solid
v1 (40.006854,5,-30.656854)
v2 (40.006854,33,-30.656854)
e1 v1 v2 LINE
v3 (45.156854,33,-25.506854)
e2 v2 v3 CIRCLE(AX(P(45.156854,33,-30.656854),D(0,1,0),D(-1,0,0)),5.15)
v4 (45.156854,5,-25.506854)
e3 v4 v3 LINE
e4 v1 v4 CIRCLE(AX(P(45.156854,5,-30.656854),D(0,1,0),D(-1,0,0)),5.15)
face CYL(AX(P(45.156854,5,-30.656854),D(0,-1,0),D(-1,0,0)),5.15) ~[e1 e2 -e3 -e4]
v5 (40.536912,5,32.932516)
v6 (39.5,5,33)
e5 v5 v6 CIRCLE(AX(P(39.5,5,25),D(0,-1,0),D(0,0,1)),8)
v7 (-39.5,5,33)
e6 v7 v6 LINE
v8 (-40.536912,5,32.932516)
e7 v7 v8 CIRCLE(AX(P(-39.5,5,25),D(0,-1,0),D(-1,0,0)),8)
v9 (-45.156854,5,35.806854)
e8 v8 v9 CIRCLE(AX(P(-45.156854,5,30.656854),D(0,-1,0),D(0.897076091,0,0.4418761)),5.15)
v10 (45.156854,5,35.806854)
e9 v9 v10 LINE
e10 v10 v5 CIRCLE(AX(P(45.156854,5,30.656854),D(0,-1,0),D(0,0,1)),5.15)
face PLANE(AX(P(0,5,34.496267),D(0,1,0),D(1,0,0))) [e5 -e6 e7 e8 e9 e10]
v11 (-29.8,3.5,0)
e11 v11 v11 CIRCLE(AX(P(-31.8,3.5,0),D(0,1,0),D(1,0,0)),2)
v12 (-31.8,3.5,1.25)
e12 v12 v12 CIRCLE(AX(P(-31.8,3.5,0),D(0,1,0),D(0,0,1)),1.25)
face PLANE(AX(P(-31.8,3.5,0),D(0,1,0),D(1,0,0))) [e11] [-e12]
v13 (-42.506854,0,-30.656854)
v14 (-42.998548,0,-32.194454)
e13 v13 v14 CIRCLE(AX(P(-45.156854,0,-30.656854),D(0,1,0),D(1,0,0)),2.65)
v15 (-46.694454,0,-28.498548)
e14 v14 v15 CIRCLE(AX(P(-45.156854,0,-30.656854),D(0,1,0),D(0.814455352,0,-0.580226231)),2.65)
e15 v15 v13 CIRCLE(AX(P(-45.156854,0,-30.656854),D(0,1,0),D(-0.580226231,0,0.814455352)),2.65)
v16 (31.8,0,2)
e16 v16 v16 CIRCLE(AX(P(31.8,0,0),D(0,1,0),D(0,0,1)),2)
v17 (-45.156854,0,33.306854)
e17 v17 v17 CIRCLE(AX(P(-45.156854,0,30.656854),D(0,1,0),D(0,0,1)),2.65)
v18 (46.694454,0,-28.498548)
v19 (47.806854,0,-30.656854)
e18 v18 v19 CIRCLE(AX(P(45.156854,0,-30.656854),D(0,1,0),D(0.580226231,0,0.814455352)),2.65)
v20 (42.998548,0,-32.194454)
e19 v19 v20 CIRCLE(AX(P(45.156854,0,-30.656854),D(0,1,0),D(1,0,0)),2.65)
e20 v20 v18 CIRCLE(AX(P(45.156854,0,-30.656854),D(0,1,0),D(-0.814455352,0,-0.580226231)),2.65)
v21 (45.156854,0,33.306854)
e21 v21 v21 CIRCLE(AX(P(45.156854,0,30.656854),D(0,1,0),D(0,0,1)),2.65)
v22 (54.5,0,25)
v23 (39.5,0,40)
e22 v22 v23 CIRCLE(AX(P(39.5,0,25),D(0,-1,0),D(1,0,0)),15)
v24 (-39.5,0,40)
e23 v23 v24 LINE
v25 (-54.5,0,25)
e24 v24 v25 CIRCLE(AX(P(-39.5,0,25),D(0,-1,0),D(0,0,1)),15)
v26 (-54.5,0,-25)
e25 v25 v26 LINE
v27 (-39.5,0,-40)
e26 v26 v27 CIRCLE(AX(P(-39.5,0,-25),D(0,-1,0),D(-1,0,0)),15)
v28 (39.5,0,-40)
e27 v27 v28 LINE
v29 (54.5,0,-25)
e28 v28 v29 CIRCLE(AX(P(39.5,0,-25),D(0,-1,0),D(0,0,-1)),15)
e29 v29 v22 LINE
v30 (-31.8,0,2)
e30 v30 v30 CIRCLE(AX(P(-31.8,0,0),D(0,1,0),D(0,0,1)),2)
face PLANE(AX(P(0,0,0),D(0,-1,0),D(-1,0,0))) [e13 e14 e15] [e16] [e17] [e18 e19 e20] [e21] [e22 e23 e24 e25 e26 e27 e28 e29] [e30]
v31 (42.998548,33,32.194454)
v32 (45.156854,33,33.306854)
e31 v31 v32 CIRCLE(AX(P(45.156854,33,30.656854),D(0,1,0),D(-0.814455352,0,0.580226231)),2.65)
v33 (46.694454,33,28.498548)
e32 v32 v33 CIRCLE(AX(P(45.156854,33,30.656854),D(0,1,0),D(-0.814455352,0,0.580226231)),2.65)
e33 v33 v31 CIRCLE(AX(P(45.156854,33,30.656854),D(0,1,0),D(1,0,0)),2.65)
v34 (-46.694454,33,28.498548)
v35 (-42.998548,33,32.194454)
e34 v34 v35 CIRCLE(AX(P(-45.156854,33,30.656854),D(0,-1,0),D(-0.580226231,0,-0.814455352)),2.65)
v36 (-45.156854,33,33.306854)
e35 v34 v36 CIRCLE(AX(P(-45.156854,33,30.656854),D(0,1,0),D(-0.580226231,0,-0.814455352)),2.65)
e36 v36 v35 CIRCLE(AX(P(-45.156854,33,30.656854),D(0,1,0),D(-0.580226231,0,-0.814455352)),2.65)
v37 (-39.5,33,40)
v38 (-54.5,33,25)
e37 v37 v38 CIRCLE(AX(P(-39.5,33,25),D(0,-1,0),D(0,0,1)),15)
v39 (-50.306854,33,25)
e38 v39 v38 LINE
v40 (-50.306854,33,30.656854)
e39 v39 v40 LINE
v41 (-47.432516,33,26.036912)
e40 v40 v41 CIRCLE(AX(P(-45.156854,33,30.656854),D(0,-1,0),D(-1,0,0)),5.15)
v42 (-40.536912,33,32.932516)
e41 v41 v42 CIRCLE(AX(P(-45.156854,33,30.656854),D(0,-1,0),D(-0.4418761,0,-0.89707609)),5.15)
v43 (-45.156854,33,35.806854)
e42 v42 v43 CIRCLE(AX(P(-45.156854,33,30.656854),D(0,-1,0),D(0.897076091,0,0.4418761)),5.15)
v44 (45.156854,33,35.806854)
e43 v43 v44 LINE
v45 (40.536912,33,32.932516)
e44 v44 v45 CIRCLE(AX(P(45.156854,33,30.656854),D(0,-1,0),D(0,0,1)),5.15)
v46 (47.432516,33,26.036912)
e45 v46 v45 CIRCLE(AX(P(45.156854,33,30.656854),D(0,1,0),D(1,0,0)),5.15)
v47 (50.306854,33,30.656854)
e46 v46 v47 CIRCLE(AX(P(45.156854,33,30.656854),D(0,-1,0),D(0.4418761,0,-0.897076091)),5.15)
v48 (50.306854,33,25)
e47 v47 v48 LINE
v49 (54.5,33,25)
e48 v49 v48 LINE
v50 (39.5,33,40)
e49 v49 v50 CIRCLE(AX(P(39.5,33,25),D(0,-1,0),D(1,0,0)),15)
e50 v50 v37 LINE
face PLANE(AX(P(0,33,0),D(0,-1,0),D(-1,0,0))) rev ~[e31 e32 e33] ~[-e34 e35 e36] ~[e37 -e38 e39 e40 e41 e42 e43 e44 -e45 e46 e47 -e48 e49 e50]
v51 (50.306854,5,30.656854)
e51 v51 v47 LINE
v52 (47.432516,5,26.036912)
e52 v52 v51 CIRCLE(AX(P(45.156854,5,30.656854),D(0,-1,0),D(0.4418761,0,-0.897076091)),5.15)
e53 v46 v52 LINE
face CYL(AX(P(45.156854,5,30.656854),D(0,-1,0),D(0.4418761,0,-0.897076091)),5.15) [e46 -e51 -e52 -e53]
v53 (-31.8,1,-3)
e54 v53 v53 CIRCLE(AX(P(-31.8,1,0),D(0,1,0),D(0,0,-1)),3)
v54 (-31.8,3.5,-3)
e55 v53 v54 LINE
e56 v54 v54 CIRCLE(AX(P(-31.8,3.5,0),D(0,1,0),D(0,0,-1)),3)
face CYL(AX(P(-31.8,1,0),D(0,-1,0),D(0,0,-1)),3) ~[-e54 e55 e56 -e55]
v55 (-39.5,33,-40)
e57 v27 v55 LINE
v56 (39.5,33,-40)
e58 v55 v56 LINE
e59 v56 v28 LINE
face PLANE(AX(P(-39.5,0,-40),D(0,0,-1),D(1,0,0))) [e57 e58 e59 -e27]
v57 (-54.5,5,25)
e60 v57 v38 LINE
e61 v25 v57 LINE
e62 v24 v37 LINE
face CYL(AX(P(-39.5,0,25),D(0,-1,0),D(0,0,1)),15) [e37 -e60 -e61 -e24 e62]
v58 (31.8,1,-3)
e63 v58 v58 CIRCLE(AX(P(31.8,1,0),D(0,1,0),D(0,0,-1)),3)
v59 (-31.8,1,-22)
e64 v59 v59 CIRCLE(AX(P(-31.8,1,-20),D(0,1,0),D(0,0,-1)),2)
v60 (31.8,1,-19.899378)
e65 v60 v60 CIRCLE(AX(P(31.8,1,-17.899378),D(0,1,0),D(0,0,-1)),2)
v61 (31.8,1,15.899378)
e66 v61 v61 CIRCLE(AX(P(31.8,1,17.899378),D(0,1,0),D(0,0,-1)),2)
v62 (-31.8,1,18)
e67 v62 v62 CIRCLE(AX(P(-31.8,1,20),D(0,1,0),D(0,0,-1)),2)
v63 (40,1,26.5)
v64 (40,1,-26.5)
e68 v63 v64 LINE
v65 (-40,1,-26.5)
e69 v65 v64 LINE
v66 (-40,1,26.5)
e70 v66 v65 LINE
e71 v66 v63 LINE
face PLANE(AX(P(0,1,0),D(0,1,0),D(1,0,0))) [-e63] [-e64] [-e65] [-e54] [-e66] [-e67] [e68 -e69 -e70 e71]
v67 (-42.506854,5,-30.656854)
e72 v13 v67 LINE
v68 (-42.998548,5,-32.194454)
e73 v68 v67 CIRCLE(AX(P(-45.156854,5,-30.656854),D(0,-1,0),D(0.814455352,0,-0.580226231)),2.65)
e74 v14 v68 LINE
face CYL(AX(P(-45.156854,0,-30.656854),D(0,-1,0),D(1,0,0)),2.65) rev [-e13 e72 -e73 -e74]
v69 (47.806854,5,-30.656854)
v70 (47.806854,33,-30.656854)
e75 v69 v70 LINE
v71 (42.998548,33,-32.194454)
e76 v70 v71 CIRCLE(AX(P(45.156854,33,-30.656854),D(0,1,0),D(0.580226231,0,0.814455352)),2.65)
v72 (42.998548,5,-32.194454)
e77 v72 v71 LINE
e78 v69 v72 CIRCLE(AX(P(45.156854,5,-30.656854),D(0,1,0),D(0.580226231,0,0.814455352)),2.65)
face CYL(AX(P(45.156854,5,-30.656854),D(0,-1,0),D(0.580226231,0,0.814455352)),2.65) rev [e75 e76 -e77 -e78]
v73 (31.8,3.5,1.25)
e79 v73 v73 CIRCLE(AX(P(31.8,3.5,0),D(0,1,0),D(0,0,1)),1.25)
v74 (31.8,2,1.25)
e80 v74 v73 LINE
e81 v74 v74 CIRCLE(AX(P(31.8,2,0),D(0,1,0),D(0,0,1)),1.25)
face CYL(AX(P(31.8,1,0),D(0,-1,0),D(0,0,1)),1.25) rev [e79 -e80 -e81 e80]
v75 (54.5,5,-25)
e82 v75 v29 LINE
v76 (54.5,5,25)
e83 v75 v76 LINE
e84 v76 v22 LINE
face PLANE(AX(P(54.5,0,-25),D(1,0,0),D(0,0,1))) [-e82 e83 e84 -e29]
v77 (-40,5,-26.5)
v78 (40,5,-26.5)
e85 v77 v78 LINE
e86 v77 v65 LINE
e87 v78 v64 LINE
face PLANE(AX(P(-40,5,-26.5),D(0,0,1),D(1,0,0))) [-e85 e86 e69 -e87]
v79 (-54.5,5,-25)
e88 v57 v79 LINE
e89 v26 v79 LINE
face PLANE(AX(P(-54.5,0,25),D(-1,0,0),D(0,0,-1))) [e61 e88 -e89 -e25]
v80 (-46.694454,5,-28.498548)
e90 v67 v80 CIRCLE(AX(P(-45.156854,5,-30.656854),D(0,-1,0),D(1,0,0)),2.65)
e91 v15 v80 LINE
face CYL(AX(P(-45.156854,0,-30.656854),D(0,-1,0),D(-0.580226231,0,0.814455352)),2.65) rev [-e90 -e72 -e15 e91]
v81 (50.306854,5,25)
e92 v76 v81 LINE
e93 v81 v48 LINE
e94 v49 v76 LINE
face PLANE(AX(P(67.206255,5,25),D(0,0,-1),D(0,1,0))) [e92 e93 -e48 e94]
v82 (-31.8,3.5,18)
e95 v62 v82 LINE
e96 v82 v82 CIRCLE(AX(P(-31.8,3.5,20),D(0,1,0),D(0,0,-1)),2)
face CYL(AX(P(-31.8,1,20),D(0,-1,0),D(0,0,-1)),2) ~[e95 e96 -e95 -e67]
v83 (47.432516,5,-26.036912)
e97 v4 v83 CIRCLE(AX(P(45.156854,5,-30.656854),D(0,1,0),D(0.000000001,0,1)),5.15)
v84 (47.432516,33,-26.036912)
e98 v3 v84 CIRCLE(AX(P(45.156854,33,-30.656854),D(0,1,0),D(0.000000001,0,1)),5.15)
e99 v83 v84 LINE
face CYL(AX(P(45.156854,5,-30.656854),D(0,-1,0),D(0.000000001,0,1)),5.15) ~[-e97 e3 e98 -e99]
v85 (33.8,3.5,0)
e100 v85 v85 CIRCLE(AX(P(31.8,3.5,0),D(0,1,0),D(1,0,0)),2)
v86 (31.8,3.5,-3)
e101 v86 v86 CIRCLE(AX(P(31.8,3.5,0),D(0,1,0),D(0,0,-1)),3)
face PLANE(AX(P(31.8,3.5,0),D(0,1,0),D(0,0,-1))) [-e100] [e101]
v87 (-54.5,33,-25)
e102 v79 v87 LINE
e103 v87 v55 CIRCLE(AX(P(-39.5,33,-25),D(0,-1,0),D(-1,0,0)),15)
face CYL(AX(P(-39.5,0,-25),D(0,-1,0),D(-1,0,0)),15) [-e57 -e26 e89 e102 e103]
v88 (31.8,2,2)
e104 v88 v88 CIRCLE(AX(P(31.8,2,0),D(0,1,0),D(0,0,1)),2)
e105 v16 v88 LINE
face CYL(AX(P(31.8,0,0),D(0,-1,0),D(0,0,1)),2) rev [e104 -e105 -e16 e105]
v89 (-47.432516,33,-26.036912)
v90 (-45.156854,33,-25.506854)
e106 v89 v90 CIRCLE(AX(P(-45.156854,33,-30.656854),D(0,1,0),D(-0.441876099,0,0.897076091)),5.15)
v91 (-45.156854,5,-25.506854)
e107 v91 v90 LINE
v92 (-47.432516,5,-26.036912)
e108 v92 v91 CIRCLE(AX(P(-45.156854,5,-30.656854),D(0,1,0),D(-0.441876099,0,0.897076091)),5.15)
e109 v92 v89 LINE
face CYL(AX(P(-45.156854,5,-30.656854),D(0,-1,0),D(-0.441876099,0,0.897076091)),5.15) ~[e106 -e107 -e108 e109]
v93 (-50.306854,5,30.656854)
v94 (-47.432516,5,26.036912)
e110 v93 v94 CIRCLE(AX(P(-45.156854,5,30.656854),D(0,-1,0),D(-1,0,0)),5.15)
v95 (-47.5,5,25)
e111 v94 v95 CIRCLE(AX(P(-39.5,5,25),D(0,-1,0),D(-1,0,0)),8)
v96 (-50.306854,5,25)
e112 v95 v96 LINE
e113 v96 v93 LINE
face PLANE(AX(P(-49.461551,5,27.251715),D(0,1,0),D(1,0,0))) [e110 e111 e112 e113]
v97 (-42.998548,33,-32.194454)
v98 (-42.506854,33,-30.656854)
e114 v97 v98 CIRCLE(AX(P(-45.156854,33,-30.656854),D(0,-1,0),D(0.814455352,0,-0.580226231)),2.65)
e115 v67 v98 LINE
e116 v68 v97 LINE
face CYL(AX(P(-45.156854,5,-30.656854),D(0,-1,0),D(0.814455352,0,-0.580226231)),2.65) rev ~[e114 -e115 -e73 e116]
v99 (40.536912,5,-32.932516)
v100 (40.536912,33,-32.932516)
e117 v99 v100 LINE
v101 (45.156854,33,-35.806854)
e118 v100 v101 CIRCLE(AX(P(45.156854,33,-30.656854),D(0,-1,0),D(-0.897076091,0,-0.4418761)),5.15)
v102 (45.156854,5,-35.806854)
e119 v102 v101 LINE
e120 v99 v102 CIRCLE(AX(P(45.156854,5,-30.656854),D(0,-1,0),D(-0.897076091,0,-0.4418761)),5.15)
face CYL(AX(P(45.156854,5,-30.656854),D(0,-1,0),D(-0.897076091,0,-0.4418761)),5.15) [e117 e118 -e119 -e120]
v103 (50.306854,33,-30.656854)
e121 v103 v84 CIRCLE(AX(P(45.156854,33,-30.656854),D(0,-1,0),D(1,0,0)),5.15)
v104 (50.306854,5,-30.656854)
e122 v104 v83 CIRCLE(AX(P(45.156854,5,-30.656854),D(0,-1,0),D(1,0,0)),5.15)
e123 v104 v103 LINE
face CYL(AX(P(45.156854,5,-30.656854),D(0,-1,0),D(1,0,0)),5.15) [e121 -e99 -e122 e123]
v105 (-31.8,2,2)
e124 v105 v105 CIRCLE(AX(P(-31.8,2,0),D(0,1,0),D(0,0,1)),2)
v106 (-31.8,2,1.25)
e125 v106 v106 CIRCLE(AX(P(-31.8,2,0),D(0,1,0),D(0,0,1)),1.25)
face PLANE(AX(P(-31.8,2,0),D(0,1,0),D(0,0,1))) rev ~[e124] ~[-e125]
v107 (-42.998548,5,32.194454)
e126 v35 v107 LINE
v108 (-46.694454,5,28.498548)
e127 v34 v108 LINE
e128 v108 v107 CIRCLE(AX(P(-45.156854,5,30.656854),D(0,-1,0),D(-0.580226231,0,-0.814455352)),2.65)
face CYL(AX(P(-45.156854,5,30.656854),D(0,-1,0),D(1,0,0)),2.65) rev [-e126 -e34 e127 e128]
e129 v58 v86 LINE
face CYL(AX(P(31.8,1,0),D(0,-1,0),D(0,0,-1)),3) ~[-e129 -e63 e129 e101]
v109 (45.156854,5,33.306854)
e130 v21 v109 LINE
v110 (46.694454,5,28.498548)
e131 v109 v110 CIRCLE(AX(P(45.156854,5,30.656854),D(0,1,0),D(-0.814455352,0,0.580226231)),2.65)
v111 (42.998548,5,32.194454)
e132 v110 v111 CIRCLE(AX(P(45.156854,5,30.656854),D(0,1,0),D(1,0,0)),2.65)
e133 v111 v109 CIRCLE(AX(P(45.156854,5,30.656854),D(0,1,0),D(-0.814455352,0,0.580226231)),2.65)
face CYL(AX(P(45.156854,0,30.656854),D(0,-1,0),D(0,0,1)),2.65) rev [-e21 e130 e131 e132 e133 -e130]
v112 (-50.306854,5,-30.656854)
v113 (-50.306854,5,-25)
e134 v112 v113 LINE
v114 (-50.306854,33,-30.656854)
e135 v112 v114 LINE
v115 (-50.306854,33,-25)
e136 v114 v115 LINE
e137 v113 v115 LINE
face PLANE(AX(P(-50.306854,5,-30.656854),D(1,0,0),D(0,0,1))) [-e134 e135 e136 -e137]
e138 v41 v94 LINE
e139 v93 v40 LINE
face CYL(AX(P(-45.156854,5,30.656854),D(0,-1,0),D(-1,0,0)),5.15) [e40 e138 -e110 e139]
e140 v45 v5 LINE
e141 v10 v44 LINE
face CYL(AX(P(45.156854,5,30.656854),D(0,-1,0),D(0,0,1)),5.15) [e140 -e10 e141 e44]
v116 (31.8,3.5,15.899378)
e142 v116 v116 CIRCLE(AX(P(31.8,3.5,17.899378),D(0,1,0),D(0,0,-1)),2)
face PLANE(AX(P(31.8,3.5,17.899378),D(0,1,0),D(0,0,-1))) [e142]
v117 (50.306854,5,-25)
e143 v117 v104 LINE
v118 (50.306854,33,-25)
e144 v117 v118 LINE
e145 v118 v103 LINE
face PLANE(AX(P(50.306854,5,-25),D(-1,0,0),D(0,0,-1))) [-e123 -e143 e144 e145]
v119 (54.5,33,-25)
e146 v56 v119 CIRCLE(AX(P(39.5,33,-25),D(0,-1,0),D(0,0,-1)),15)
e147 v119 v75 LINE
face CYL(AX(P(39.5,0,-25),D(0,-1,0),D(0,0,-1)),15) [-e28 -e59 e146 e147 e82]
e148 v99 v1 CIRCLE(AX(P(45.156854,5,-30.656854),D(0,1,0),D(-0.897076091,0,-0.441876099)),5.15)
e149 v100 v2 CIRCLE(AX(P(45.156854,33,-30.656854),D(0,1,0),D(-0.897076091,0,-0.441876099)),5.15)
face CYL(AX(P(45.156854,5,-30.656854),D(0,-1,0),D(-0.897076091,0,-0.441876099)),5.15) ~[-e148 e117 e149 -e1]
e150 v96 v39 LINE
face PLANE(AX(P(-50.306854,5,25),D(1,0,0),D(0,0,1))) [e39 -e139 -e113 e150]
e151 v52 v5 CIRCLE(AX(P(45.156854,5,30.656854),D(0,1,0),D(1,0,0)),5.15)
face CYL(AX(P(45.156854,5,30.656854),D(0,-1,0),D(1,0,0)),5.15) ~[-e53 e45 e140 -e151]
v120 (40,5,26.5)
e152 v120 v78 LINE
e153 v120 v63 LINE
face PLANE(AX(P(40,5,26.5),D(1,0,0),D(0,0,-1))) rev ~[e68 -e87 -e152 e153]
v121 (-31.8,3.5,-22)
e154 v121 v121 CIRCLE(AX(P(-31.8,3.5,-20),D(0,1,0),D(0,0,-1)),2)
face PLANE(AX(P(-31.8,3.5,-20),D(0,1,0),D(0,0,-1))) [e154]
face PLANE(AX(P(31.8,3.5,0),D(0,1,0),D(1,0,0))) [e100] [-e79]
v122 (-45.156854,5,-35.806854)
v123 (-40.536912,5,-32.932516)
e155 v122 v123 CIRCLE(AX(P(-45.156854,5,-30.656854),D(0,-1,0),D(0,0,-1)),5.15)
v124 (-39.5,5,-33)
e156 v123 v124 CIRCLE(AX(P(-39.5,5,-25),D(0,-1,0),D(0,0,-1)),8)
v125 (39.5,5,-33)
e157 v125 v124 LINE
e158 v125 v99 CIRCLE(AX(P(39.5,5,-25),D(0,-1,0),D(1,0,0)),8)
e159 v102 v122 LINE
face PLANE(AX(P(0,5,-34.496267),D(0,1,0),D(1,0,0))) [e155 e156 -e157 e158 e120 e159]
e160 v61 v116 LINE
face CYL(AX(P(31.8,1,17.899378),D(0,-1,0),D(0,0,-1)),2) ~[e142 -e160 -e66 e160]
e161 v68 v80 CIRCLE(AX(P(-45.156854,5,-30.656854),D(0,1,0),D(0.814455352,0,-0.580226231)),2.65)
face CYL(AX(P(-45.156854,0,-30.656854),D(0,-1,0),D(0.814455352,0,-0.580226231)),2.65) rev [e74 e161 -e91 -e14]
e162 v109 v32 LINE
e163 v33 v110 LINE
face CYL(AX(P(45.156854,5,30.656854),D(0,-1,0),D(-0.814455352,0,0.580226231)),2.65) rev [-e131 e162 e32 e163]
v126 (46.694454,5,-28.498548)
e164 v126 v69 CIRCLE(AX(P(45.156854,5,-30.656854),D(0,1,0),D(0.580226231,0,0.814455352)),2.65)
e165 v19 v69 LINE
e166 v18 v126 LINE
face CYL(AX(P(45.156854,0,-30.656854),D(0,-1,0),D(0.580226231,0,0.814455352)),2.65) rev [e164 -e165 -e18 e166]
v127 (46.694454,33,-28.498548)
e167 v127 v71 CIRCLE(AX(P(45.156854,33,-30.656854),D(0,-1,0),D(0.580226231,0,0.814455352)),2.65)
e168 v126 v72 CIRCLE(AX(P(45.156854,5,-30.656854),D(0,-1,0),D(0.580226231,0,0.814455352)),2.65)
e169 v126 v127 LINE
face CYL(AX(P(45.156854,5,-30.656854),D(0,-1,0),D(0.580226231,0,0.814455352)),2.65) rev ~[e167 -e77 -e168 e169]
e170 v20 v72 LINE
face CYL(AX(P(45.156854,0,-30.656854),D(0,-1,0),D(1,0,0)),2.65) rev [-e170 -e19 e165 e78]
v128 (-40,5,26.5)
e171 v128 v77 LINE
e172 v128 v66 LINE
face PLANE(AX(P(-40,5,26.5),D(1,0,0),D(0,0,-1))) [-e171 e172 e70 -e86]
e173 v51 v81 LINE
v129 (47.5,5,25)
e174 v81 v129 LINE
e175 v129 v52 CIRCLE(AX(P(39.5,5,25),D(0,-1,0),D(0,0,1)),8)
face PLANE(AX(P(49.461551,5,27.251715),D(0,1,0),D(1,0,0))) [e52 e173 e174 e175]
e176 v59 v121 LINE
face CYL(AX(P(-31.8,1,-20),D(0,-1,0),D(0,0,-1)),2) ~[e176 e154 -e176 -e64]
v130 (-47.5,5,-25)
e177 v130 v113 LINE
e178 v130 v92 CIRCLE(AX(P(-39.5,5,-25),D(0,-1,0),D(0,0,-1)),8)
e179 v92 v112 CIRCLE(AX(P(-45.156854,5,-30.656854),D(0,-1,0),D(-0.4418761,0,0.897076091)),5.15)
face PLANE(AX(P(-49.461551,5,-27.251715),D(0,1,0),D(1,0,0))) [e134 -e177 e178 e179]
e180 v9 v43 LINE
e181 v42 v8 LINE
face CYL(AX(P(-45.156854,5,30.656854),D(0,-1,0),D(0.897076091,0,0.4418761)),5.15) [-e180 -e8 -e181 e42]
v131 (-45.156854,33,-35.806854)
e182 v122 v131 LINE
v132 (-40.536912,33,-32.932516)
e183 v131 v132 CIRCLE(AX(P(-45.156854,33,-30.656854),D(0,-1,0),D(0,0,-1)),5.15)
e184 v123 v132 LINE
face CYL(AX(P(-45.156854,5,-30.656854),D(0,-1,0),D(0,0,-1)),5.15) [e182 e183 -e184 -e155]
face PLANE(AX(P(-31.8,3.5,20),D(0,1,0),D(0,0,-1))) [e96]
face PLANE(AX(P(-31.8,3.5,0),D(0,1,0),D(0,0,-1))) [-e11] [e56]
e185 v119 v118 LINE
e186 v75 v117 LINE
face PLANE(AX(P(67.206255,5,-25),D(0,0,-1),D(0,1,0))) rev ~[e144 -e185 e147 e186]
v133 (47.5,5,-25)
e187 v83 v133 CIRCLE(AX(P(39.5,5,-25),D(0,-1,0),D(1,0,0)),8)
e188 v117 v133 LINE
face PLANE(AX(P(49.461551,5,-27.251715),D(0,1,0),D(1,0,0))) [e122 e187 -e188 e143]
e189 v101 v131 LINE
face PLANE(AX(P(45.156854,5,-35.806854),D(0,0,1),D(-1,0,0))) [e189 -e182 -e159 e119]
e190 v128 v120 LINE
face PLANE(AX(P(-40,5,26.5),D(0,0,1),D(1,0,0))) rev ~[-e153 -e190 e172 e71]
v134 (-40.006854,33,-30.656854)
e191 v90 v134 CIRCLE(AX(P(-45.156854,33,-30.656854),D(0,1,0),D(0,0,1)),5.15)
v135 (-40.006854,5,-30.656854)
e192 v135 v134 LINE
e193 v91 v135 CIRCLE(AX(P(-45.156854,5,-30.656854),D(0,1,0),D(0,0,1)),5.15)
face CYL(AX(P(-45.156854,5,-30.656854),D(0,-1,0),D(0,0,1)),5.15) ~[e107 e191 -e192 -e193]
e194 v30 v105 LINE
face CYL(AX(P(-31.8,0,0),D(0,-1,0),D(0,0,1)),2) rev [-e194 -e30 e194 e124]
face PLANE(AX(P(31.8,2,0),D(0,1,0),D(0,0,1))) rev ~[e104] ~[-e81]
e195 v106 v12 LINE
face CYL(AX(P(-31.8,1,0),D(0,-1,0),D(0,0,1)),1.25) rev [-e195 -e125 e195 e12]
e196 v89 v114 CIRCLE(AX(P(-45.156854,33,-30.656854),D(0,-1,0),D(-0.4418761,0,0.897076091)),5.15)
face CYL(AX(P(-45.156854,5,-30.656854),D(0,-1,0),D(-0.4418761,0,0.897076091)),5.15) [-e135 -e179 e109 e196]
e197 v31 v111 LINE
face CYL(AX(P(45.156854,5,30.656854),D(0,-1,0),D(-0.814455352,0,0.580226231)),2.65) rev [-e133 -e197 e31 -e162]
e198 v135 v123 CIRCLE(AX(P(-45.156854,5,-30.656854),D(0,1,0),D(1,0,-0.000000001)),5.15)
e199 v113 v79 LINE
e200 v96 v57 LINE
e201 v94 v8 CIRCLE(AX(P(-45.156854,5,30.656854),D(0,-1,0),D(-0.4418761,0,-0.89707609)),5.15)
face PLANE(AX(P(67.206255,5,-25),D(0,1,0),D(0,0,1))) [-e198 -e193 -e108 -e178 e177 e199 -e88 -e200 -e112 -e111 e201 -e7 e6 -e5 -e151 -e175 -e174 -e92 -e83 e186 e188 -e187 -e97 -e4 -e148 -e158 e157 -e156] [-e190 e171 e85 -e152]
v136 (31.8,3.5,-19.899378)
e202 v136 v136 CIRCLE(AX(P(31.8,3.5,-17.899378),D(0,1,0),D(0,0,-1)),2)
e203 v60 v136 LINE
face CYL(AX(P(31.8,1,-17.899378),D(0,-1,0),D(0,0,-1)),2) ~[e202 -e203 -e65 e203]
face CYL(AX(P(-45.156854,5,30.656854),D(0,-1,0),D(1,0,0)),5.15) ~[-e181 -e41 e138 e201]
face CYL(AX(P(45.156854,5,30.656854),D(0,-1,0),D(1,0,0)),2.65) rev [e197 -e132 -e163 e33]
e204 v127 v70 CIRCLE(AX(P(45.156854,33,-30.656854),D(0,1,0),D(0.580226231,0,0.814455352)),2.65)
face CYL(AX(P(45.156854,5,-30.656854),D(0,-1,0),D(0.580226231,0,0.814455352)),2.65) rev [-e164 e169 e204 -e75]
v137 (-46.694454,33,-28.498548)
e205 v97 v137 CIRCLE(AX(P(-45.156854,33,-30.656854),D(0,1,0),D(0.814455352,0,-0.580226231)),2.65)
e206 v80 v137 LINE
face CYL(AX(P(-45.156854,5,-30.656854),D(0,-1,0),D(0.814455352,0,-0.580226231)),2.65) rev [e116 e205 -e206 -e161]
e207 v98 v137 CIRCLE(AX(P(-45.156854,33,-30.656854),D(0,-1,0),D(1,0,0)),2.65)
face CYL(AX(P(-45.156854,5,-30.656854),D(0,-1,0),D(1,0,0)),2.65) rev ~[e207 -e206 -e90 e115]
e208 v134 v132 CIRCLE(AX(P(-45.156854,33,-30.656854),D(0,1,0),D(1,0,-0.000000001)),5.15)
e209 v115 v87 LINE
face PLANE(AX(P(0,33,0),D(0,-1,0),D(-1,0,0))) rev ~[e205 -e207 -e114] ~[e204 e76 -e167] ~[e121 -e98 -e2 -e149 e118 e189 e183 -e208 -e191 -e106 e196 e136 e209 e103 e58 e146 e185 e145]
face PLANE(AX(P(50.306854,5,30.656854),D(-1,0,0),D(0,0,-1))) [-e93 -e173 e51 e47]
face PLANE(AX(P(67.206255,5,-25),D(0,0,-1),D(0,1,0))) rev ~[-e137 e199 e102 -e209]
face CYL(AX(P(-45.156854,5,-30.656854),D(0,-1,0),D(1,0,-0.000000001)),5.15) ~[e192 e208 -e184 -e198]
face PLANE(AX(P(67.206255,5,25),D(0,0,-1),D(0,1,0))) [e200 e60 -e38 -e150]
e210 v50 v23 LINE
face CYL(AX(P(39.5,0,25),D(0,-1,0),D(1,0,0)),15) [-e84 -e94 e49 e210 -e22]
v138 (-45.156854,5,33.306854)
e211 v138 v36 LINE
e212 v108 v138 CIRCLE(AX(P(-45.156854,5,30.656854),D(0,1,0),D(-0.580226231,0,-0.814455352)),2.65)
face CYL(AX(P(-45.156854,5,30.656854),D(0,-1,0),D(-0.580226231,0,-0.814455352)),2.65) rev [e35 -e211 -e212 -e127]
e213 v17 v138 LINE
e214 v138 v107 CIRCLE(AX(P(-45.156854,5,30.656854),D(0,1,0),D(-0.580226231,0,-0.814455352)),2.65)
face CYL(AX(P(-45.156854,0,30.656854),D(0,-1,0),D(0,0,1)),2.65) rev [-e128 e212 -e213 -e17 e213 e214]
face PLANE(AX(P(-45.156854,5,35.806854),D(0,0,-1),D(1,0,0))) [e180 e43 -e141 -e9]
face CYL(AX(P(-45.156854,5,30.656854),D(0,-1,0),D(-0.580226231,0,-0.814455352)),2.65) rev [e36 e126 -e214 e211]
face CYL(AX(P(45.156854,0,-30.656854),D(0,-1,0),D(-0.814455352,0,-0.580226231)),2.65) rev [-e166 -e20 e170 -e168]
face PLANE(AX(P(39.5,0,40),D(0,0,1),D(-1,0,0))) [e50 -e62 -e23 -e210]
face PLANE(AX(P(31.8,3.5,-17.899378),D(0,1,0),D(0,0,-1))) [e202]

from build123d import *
from build123d.topology import SkipClean

# Parameters (mm, degrees)
BOSS_EXTRUDE1_DEPTH     = 5
BOSS_EXTRUDE3_DEPTH     = 33
CUT_EXTRUDE2_DEPTH      = 121.706255016
CUT_EXTRUDE2_DEPTH_BACK = 121.706255016
SKETCH7_W               = 50
SKETCH7_H               = 28
CUT_EXTRUDE4_START      = 5
SKETCH3_W               = 80
SKETCH3_H               = 53
CUT_EXTRUDE4_DEPTH      = 4
BOSS_EXTRUDE8_START     = -28
SKETCH24_R              = 5.15
SKETCH24_R_2            = 2.65
BOSS_EXTRUDE8_DEPTH     = 28
CUT_EXTRUDE7_START      = -28
CUT_EXTRUDE7_DEPTH      = 28
CUT_EXTRUDE8_START      = -33
SKETCH24_4_R            = 2.65
CUT_EXTRUDE8_DEPTH      = 33
SKETCH25_R              = 3
SKETCH25_R_2            = 2
SKETCH25_R_3            = 1.25
BOSS_EXTRUDE9_DEPTH     = 2.5
SKETCH25_5_R            = 1.25
CUT_EXTRUDE11_DEPTH     = 75.794719065
CUT_EXTRUDE14_START     = -1
SKETCH25_7_R            = 2
SKETCH25_7_R_2          = 1.25
CUT_EXTRUDE14_DEPTH     = 2


with BuildPart() as part:
    # Sketch1 → Boss-Extrude1 (new body)
    with BuildSketch(Plane(origin=(0, 0, 0), x_dir=(1, 0, 0), z_dir=(0, 1, 0))):
        with BuildLine():
            Line((-39.5, 40), (39.5, 40))
            ThreePointArc((39.5, 40), (50.106601718, 35.606601718), (54.5, 25))
            Line((54.5, 25), (54.5, -25))
            ThreePointArc((54.5, -25), (50.106601718, -35.606601718), (39.5, -40))
            Line((39.5, -40), (-39.5, -40))
            ThreePointArc((-39.5, -40), (-50.106601718, -35.606601718), (-54.5, -25))
            Line((-54.5, -25), (-54.5, 25))
            ThreePointArc((-54.5, 25), (-50.106601718, 35.606601718), (-39.5, 40))
        make_face()
    extrude(amount=BOSS_EXTRUDE1_DEPTH)

    # Sketch1<3> → Boss-Extrude3 (add)
    with BuildSketch(Plane(origin=(0, 0, 0), x_dir=(1, 0, 0), z_dir=(0, 1, 0))):
        with BuildLine():
            Line((-39.5, 40), (39.5, 40))
            ThreePointArc((39.5, 40), (50.106601718, 35.606601718), (54.5, 25))
            Line((54.5, 25), (54.5, -25))
            ThreePointArc((54.5, -25), (50.106601718, -35.606601718), (39.5, -40))
            Line((39.5, -40), (-39.5, -40))
            ThreePointArc((-39.5, -40), (-50.106601718, -35.606601718), (-54.5, -25))
            Line((-54.5, -25), (-54.5, 25))
            ThreePointArc((-54.5, 25), (-50.106601718, 35.606601718), (-39.5, 40))
        make_face()
        with BuildLine():
            ThreePointArc((-39.5, 33), (-45.156854249, 30.656854249), (-47.5, 25))
            Line((-47.5, 25), (-47.5, -25))
            ThreePointArc((-47.5, -25), (-45.156854249, -30.656854249), (-39.5, -33))
            Line((-39.5, -33), (39.5, -33))
            ThreePointArc((39.5, -33), (45.156854249, -30.656854249), (47.5, -25))
            Line((47.5, -25), (47.5, 25))
            ThreePointArc((47.5, 25), (45.156854249, 30.656854249), (39.5, 33))
            Line((39.5, 33), (-39.5, 33))
        make_face(mode=Mode.SUBTRACT)
    extrude(amount=BOSS_EXTRUDE3_DEPTH)

    # Sketch7 → Cut-Extrude2 (cut, two sides: drawn at the far end of the back side and taken through both)
    with BuildSketch(Plane.ZY.offset(54.5).offset(-CUT_EXTRUDE2_DEPTH_BACK)):
        with Locations((0, 19)):
            Rectangle(SKETCH7_W, SKETCH7_H)
    extrude(amount=CUT_EXTRUDE2_DEPTH + CUT_EXTRUDE2_DEPTH_BACK, mode=Mode.SUBTRACT)

    # Sketch3 → Cut-Extrude4 (cut)
    with BuildSketch(Plane(origin=(0, 0, 0), x_dir=(1, 0, 0), z_dir=(0, 1, 0)).offset(CUT_EXTRUDE4_START)):
        Rectangle(SKETCH3_W, SKETCH3_H)
    extrude(amount=-CUT_EXTRUDE4_DEPTH, mode=Mode.SUBTRACT)

    # Sketch24 → Boss-Extrude8 (add)
    # profile 1 of 10: a face of its own
    with BuildSketch(Plane(origin=(0, 33, 0), x_dir=(1, 0, 0), z_dir=(0, 1, 0)).offset(BOSS_EXTRUDE8_START)):
        with BuildLine():
            ThreePointArc((-40.536912383, 32.932516165), (-42.436299055, 35.0296199), (-45.156854249, 35.806854249))
            ThreePointArc((-45.156854249, 35.806854249), (-48.798454173, 34.298454173), (-50.306854249, 30.656854249))
            ThreePointArc((-50.306854249, 30.656854249), (-49.5296199, 27.936299055), (-47.432516165, 26.036912383))
            ThreePointArc((-47.432516165, 26.036912383), (-47.162977015, 27.297560286), (-46.694453762, 28.498547566))
            ThreePointArc((-46.694453762, 28.498547566), (-47.03068722, 32.53068722), (-42.998547566, 32.194453762))
            ThreePointArc((-42.998547566, 32.194453762), (-41.797560286, 32.662977015), (-40.536912383, 32.932516165))
        make_face()
    # profile 2 of 10: a face of its own
    with BuildSketch(Plane(origin=(0, 33, 0), x_dir=(1, 0, 0), z_dir=(0, 1, 0)).offset(BOSS_EXTRUDE8_START)):
        with BuildLine():
            ThreePointArc((-40.006854249, 30.656854249), (-40.141118979, 31.825143467), (-40.536912383, 32.932516165))
            ThreePointArc((-40.536912383, 32.932516165), (-41.797560286, 32.662977015), (-42.998547566, 32.194453762))
            ThreePointArc((-42.998547566, 32.194453762), (-42.632768998, 31.464005812), (-42.506854249, 30.656854249))
            ThreePointArc((-42.506854249, 30.656854249), (-43.942798795, 28.301314109), (-46.694453762, 28.498547566))
            ThreePointArc((-46.694453762, 28.498547566), (-47.162977015, 27.297560286), (-47.432516165, 26.036912383))
            ThreePointArc((-47.432516165, 26.036912383), (-46.325143467, 25.641118979), (-45.156854249, 25.506854249))
            ThreePointArc((-45.156854249, 25.506854249), (-41.515254326, 27.015254326), (-40.006854249, 30.656854249))
        make_face()
    # profile 3 of 10: a face of its own
    with BuildSketch(Plane(origin=(0, 33, 0), x_dir=(1, 0, 0), z_dir=(0, 1, 0)).offset(BOSS_EXTRUDE8_START)):
        with BuildLine():
            ThreePointArc((-40.536912383, 32.932516165), (-42.436299055, 35.0296199), (-45.156854249, 35.806854249))
            ThreePointArc((-45.156854249, 35.806854249), (-48.798454173, 34.298454173), (-50.306854249, 30.656854249))
            ThreePointArc((-50.306854249, 30.656854249), (-49.5296199, 27.936299055), (-47.432516165, 26.036912383))
            ThreePointArc((-47.432516165, 26.036912383), (-47.162977015, 27.297560286), (-46.694453762, 28.498547566))
            ThreePointArc((-46.694453762, 28.498547566), (-47.03068722, 32.53068722), (-42.998547566, 32.194453762))
            ThreePointArc((-42.998547566, 32.194453762), (-41.797560286, 32.662977015), (-40.536912383, 32.932516165))
        make_face()
    # profile 4 of 10: a face of its own
    with BuildSketch(Plane(origin=(0, 33, 0), x_dir=(1, 0, 0), z_dir=(0, 1, 0)).offset(BOSS_EXTRUDE8_START)):
        with BuildLine():
            ThreePointArc((-40.006854249, 30.656854249), (-40.141118979, 31.825143467), (-40.536912383, 32.932516165))
            ThreePointArc((-40.536912383, 32.932516165), (-41.797560286, 32.662977015), (-42.998547566, 32.194453762))
            ThreePointArc((-42.998547566, 32.194453762), (-42.632768998, 31.464005812), (-42.506854249, 30.656854249))
            ThreePointArc((-42.506854249, 30.656854249), (-43.942798795, 28.301314109), (-46.694453762, 28.498547566))
            ThreePointArc((-46.694453762, 28.498547566), (-47.162977015, 27.297560286), (-47.432516165, 26.036912383))
            ThreePointArc((-47.432516165, 26.036912383), (-46.325143467, 25.641118979), (-45.156854249, 25.506854249))
            ThreePointArc((-45.156854249, 25.506854249), (-41.515254326, 27.015254326), (-40.006854249, 30.656854249))
        make_face()
    # profile 5 of 10: a face of its own
    with BuildSketch(Plane(origin=(0, 33, 0), x_dir=(1, 0, 0), z_dir=(0, 1, 0)).offset(BOSS_EXTRUDE8_START)):
        with BuildLine():
            ThreePointArc((50.306854249, 30.656854249), (48.798454173, 34.298454173), (45.156854249, 35.806854249))
            ThreePointArc((45.156854249, 35.806854249), (42.436299055, 35.0296199), (40.536912383, 32.932516165))
            ThreePointArc((40.536912383, 32.932516165), (41.797560286, 32.662977015), (42.998547566, 32.194453762))
            ThreePointArc((42.998547566, 32.194453762), (45.964005812, 33.180939501), (47.806854249, 30.656854249))
            ThreePointArc((47.806854249, 30.656854249), (47.51239439, 29.442798795), (46.694453762, 28.498547566))
            ThreePointArc((46.694453762, 28.498547566), (47.162977015, 27.297560286), (47.432516165, 26.036912383))
            ThreePointArc((47.432516165, 26.036912383), (49.5296199, 27.936299055), (50.306854249, 30.656854249))
        make_face()
    # profile 6 of 10: a face of its own
    with BuildSketch(Plane(origin=(0, 33, 0), x_dir=(1, 0, 0), z_dir=(0, 1, 0)).offset(BOSS_EXTRUDE8_START)):
        with BuildLine():
            ThreePointArc((42.998547566, 32.194453762), (41.797560286, 32.662977015), (40.536912383, 32.932516165))
            ThreePointArc((40.536912383, 32.932516165), (40.141118979, 31.825143467), (40.006854249, 30.656854249))
            ThreePointArc((40.006854249, 30.656854249), (41.515254326, 27.015254326), (45.156854249, 25.506854249))
            ThreePointArc((45.156854249, 25.506854249), (46.325143467, 25.641118979), (47.432516165, 26.036912383))
            ThreePointArc((47.432516165, 26.036912383), (47.162977015, 27.297560286), (46.694453762, 28.498547566))
            ThreePointArc((46.694453762, 28.498547566), (43.283021279, 28.783021279), (42.998547566, 32.194453762))
        make_face()
    # profile 7 of 10: a face of its own
    with BuildSketch(Plane(origin=(0, 33, 0), x_dir=(1, 0, 0), z_dir=(0, 1, 0)).offset(BOSS_EXTRUDE8_START)):
        with BuildLine():
            ThreePointArc((50.306854249, 30.656854249), (48.798454173, 34.298454173), (45.156854249, 35.806854249))
            ThreePointArc((45.156854249, 35.806854249), (42.436299055, 35.0296199), (40.536912383, 32.932516165))
            ThreePointArc((40.536912383, 32.932516165), (41.797560286, 32.662977015), (42.998547566, 32.194453762))
            ThreePointArc((42.998547566, 32.194453762), (45.964005812, 33.180939501), (47.806854249, 30.656854249))
            ThreePointArc((47.806854249, 30.656854249), (47.51239439, 29.442798795), (46.694453762, 28.498547566))
            ThreePointArc((46.694453762, 28.498547566), (47.162977015, 27.297560286), (47.432516165, 26.036912383))
            ThreePointArc((47.432516165, 26.036912383), (49.5296199, 27.936299055), (50.306854249, 30.656854249))
        make_face()
    # profile 8 of 10: a face of its own
    with BuildSketch(Plane(origin=(0, 33, 0), x_dir=(1, 0, 0), z_dir=(0, 1, 0)).offset(BOSS_EXTRUDE8_START)):
        with BuildLine():
            ThreePointArc((42.998547566, 32.194453762), (41.797560286, 32.662977015), (40.536912383, 32.932516165))
            ThreePointArc((40.536912383, 32.932516165), (40.141118979, 31.825143467), (40.006854249, 30.656854249))
            ThreePointArc((40.006854249, 30.656854249), (41.515254326, 27.015254326), (45.156854249, 25.506854249))
            ThreePointArc((45.156854249, 25.506854249), (46.325143467, 25.641118979), (47.432516165, 26.036912383))
            ThreePointArc((47.432516165, 26.036912383), (47.162977015, 27.297560286), (46.694453762, 28.498547566))
            ThreePointArc((46.694453762, 28.498547566), (43.283021279, 28.783021279), (42.998547566, 32.194453762))
        make_face()
    # profile 9 of 10: a face of its own
    with BuildSketch(Plane(origin=(0, 33, 0), x_dir=(1, 0, 0), z_dir=(0, 1, 0)).offset(BOSS_EXTRUDE8_START)):
        with Locations((45.156854249, -30.656854249)):
            Circle(SKETCH24_R)
        with Locations((45.156854249, -30.656854249)):
            Circle(SKETCH24_R_2, mode=Mode.SUBTRACT)
    # profile 10 of 10: a face of its own
    with BuildSketch(Plane(origin=(0, 33, 0), x_dir=(1, 0, 0), z_dir=(0, 1, 0)).offset(BOSS_EXTRUDE8_START)):
        with Locations((-45.156854249, -30.656854249)):
            Circle(SKETCH24_R)
        with Locations((-45.156854249, -30.656854249)):
            Circle(SKETCH24_R_2, mode=Mode.SUBTRACT)
    extrude(amount=BOSS_EXTRUDE8_DEPTH)

    # Sketch24<3> → Cut-Extrude7 (cut)
    with SkipClean():  # the faces are left unmerged after this step: merging them gives an invalid solid
        with BuildSketch(Plane(origin=(0, 33, 0), x_dir=(1, 0, 0), z_dir=(0, 1, 0)).offset(CUT_EXTRUDE7_START)):
            with BuildLine():
                Line((45.156854249, 35.806854249), (-45.156854249, 35.806854249))
                ThreePointArc((-45.156854249, 35.806854249), (-42.436299055, 35.0296199), (-40.536912383, 32.932516165))
                ThreePointArc((-40.536912383, 32.932516165), (-40.019553019, 32.983111214), (-39.5, 33))
                Line((-39.5, 33), (39.5, 33))
                ThreePointArc((39.5, 33), (40.019553019, 32.983111214), (40.536912383, 32.932516165))
                ThreePointArc((40.536912383, 32.932516165), (42.436299055, 35.0296199), (45.156854249, 35.806854249))
            make_face()
            with BuildLine():
                ThreePointArc((-47.432516165, 26.036912383), (-49.5296199, 27.936299055), (-50.306854249, 30.656854249))
                Line((-50.306854249, 30.656854249), (-50.306854249, 25))
                Line((-50.306854249, 25), (-47.5, 25))
                ThreePointArc((-47.5, 25), (-47.483111214, 25.519553019), (-47.432516165, 26.036912383))
            make_face()
            with BuildLine():
                Line((50.306854249, 25), (50.306854249, 30.656854249))
                ThreePointArc((50.306854249, 30.656854249), (49.5296199, 27.936299055), (47.432516165, 26.036912383))
                ThreePointArc((47.432516165, 26.036912383), (47.483111214, 25.519553019), (47.5, 25))
                Line((47.5, 25), (50.306854249, 25))
            make_face()
            with BuildLine():
                Line((-47.5, -25), (-50.306854249, -25))
                Line((-50.306854249, -25), (-50.306854249, -30.656854249))
                ThreePointArc((-50.306854249, -30.656854249), (-49.5296199, -27.936299055), (-47.432516165, -26.036912383))
                ThreePointArc((-47.432516165, -26.036912383), (-47.483111214, -25.519553019), (-47.5, -25))
            make_face()
            with BuildLine():
                Line((50.306854249, -30.656854249), (50.306854249, -25))
                Line((50.306854249, -25), (47.5, -25))
                ThreePointArc((47.5, -25), (47.483111214, -25.519553019), (47.432516165, -26.036912383))
                ThreePointArc((47.432516165, -26.036912383), (49.5296199, -27.936299055), (50.306854249, -30.656854249))
            make_face()
            with BuildLine():
                ThreePointArc((-40.536912383, -32.932516165), (-42.436299055, -35.0296199), (-45.156854249, -35.806854249))
                Line((-45.156854249, -35.806854249), (45.156854249, -35.806854249))
                ThreePointArc((45.156854249, -35.806854249), (42.436299055, -35.0296199), (40.536912383, -32.932516165))
                ThreePointArc((40.536912383, -32.932516165), (40.019553019, -32.983111214), (39.5, -33))
                Line((39.5, -33), (-39.5, -33))
                ThreePointArc((-39.5, -33), (-40.019553019, -32.983111214), (-40.536912383, -32.932516165))
            make_face()
            with BuildLine():
                ThreePointArc((-46.694453762, 28.498547566), (-45.156854249, 30.656854249), (-42.998547566, 32.194453762))
                ThreePointArc((-42.998547566, 32.194453762), (-47.03068722, 32.53068722), (-46.694453762, 28.498547566))
            make_face()
            with BuildLine():
                ThreePointArc((46.694453762, 28.498547566), (47.03068722, 32.53068722), (42.998547566, 32.194453762))
                ThreePointArc((42.998547566, 32.194453762), (45.156854249, 30.656854249), (46.694453762, 28.498547566))
            make_face()
            with BuildLine():
                ThreePointArc((42.998547566, -32.194453762), (47.03068722, -32.53068722), (46.694453762, -28.498547566))
                ThreePointArc((46.694453762, -28.498547566), (45.156854249, -30.656854249), (42.998547566, -32.194453762))
            make_face()
            with BuildLine():
                ThreePointArc((-42.998547566, -32.194453762), (-45.156854249, -30.656854249), (-46.694453762, -28.498547566))
                ThreePointArc((-46.694453762, -28.498547566), (-47.03068722, -32.53068722), (-42.998547566, -32.194453762))
            make_face()
        extrude(amount=CUT_EXTRUDE7_DEPTH, mode=Mode.SUBTRACT)

    # Sketch24<4> → Cut-Extrude8 (cut)
    with SkipClean():  # the faces are left unmerged after this step: merging them gives an invalid solid
        with BuildSketch(Plane(origin=(0, 33, 0), x_dir=(1, 0, 0), z_dir=(0, 1, 0)).offset(CUT_EXTRUDE8_START)):
            with Locations(Location((45.156854249, -30.656854249, 0), (0, 0, 270))):
                Circle(SKETCH24_4_R)
            with BuildLine():
                ThreePointArc((46.694453762, 28.498547566), (45.156854249, 30.656854249), (42.998547566, 32.194453762))
                ThreePointArc((42.998547566, 32.194453762), (43.283021279, 28.783021279), (46.694453762, 28.498547566))
            make_face()
            with BuildLine():
                ThreePointArc((47.806854249, 30.656854249), (45.964005812, 33.180939501), (42.998547566, 32.194453762))
                ThreePointArc((42.998547566, 32.194453762), (45.156854249, 30.656854249), (46.694453762, 28.498547566))
                ThreePointArc((46.694453762, 28.498547566), (47.51239439, 29.442798795), (47.806854249, 30.656854249))
            make_face()
            with BuildLine():
                ThreePointArc((-46.694453762, 28.498547566), (-45.156854249, 30.656854249), (-42.998547566, 32.194453762))
                ThreePointArc((-42.998547566, 32.194453762), (-47.03068722, 32.53068722), (-46.694453762, 28.498547566))
            make_face()
            with BuildLine():
                ThreePointArc((-42.506854249, 30.656854249), (-42.632768998, 31.464005812), (-42.998547566, 32.194453762))
                ThreePointArc((-42.998547566, 32.194453762), (-45.156854249, 30.656854249), (-46.694453762, 28.498547566))
                ThreePointArc((-46.694453762, 28.498547566), (-43.942798795, 28.301314109), (-42.506854249, 30.656854249))
            make_face()
            with Locations(Location((-45.156854249, -30.656854249, 0), (0, 0, 270))):
                Circle(SKETCH24_4_R)
        extrude(amount=CUT_EXTRUDE8_DEPTH, mode=Mode.SUBTRACT)

    # Sketch25 → Boss-Extrude9 (add)
    # profile 1 of 8: a face of its own
    with SkipClean():  # the faces are left unmerged after this step: merging them gives an invalid solid
        with BuildSketch(Plane(origin=(0, 1, 0), x_dir=(1, 0, 0), z_dir=(0, 1, 0))):
            with Locations(Location((-31.8, 0, 0), (0, 0, 90))):
                Circle(SKETCH25_R)
            with Locations((-31.8, 0)):
                Circle(SKETCH25_R_2, mode=Mode.SUBTRACT)
        # profile 2 of 8: a face of its own
        with BuildSketch(Plane(origin=(0, 1, 0), x_dir=(1, 0, 0), z_dir=(0, 1, 0))):
            with Locations(Location((31.8, 0, 0), (0, 0, 90))):
                Circle(SKETCH25_R)
            with Locations((31.8, 0)):
                Circle(SKETCH25_R_2, mode=Mode.SUBTRACT)
        # profile 3 of 8: a face of its own
        with BuildSketch(Plane(origin=(0, 1, 0), x_dir=(1, 0, 0), z_dir=(0, 1, 0))):
            with Locations((-31.8, 0)):
                Circle(SKETCH25_R_2)
            with Locations(Location((-31.8, 0, 0), (0, 0, 270))):
                Circle(SKETCH25_R_3, mode=Mode.SUBTRACT)
        # profile 4 of 8: a face of its own
        with BuildSketch(Plane(origin=(0, 1, 0), x_dir=(1, 0, 0), z_dir=(0, 1, 0))):
            with Locations((31.8, 0)):
                Circle(SKETCH25_R_2)
            with Locations(Location((31.8, 0, 0), (0, 0, 270))):
                Circle(SKETCH25_R_3, mode=Mode.SUBTRACT)
        # profile 5 of 8: a face of its own
        with BuildSketch(Plane(origin=(0, 1, 0), x_dir=(1, 0, 0), z_dir=(0, 1, 0))):
            with Locations(Location((-31.8, 20, 0), (0, 0, 90))):
                Circle(SKETCH25_R_2)
        # profile 6 of 8: a face of its own
        with BuildSketch(Plane(origin=(0, 1, 0), x_dir=(1, 0, 0), z_dir=(0, 1, 0))):
            with Locations(Location((31.8, 17.899377537, 0), (0, 0, 90))):
                Circle(SKETCH25_R_2)
        # profile 7 of 8: a face of its own
        with BuildSketch(Plane(origin=(0, 1, 0), x_dir=(1, 0, 0), z_dir=(0, 1, 0))):
            with Locations(Location((31.8, -17.899377537, 0), (0, 0, 90))):
                Circle(SKETCH25_R_2)
        # profile 8 of 8: a face of its own
        with BuildSketch(Plane(origin=(0, 1, 0), x_dir=(1, 0, 0), z_dir=(0, 1, 0))):
            with Locations(Location((-31.8, -20, 0), (0, 0, 90))):
                Circle(SKETCH25_R_2)
        extrude(amount=BOSS_EXTRUDE9_DEPTH)

    # Sketch25<5> → Cut-Extrude11 (cut, through all)
    with SkipClean():  # the faces are left unmerged after this step: merging them gives an invalid solid
        with BuildSketch(Plane(origin=(0, 1, 0), x_dir=(1, 0, 0), z_dir=(0, 1, 0))):
            with Locations(Location((-31.8, 0, 0), (0, 0, 270))):
                Circle(SKETCH25_5_R)
            with Locations(Location((31.8, 0, 0), (0, 0, 270))):
                Circle(SKETCH25_5_R)
        extrude(amount=-CUT_EXTRUDE11_DEPTH, mode=Mode.SUBTRACT)

    # Sketch25<7> → Cut-Extrude14 (cut)
    # profile 1 of 2: a face of its own
    with SkipClean():  # the faces are left unmerged after this step: merging them gives an invalid solid
        with BuildSketch(Plane(origin=(0, 1, 0), x_dir=(1, 0, 0), z_dir=(0, 1, 0)).offset(CUT_EXTRUDE14_START)):
            with Locations(Location((-31.8, 0, 0), (0, 0, 270))):
                Circle(SKETCH25_7_R)
            with Locations(Location((-31.8, 0, 0), (0, 0, 270))):
                Circle(SKETCH25_7_R_2, mode=Mode.SUBTRACT)
        # profile 2 of 2: a face of its own
        with BuildSketch(Plane(origin=(0, 1, 0), x_dir=(1, 0, 0), z_dir=(0, 1, 0)).offset(CUT_EXTRUDE14_START)):
            with Locations(Location((31.8, 0, 0), (0, 0, 270))):
                Circle(SKETCH25_7_R)
            with Locations(Location((31.8, 0, 0), (0, 0, 270))):
                Circle(SKETCH25_7_R_2, mode=Mode.SUBTRACT)
        extrude(amount=CUT_EXTRUDE14_DEPTH, mode=Mode.SUBTRACT)


solid = part.part
